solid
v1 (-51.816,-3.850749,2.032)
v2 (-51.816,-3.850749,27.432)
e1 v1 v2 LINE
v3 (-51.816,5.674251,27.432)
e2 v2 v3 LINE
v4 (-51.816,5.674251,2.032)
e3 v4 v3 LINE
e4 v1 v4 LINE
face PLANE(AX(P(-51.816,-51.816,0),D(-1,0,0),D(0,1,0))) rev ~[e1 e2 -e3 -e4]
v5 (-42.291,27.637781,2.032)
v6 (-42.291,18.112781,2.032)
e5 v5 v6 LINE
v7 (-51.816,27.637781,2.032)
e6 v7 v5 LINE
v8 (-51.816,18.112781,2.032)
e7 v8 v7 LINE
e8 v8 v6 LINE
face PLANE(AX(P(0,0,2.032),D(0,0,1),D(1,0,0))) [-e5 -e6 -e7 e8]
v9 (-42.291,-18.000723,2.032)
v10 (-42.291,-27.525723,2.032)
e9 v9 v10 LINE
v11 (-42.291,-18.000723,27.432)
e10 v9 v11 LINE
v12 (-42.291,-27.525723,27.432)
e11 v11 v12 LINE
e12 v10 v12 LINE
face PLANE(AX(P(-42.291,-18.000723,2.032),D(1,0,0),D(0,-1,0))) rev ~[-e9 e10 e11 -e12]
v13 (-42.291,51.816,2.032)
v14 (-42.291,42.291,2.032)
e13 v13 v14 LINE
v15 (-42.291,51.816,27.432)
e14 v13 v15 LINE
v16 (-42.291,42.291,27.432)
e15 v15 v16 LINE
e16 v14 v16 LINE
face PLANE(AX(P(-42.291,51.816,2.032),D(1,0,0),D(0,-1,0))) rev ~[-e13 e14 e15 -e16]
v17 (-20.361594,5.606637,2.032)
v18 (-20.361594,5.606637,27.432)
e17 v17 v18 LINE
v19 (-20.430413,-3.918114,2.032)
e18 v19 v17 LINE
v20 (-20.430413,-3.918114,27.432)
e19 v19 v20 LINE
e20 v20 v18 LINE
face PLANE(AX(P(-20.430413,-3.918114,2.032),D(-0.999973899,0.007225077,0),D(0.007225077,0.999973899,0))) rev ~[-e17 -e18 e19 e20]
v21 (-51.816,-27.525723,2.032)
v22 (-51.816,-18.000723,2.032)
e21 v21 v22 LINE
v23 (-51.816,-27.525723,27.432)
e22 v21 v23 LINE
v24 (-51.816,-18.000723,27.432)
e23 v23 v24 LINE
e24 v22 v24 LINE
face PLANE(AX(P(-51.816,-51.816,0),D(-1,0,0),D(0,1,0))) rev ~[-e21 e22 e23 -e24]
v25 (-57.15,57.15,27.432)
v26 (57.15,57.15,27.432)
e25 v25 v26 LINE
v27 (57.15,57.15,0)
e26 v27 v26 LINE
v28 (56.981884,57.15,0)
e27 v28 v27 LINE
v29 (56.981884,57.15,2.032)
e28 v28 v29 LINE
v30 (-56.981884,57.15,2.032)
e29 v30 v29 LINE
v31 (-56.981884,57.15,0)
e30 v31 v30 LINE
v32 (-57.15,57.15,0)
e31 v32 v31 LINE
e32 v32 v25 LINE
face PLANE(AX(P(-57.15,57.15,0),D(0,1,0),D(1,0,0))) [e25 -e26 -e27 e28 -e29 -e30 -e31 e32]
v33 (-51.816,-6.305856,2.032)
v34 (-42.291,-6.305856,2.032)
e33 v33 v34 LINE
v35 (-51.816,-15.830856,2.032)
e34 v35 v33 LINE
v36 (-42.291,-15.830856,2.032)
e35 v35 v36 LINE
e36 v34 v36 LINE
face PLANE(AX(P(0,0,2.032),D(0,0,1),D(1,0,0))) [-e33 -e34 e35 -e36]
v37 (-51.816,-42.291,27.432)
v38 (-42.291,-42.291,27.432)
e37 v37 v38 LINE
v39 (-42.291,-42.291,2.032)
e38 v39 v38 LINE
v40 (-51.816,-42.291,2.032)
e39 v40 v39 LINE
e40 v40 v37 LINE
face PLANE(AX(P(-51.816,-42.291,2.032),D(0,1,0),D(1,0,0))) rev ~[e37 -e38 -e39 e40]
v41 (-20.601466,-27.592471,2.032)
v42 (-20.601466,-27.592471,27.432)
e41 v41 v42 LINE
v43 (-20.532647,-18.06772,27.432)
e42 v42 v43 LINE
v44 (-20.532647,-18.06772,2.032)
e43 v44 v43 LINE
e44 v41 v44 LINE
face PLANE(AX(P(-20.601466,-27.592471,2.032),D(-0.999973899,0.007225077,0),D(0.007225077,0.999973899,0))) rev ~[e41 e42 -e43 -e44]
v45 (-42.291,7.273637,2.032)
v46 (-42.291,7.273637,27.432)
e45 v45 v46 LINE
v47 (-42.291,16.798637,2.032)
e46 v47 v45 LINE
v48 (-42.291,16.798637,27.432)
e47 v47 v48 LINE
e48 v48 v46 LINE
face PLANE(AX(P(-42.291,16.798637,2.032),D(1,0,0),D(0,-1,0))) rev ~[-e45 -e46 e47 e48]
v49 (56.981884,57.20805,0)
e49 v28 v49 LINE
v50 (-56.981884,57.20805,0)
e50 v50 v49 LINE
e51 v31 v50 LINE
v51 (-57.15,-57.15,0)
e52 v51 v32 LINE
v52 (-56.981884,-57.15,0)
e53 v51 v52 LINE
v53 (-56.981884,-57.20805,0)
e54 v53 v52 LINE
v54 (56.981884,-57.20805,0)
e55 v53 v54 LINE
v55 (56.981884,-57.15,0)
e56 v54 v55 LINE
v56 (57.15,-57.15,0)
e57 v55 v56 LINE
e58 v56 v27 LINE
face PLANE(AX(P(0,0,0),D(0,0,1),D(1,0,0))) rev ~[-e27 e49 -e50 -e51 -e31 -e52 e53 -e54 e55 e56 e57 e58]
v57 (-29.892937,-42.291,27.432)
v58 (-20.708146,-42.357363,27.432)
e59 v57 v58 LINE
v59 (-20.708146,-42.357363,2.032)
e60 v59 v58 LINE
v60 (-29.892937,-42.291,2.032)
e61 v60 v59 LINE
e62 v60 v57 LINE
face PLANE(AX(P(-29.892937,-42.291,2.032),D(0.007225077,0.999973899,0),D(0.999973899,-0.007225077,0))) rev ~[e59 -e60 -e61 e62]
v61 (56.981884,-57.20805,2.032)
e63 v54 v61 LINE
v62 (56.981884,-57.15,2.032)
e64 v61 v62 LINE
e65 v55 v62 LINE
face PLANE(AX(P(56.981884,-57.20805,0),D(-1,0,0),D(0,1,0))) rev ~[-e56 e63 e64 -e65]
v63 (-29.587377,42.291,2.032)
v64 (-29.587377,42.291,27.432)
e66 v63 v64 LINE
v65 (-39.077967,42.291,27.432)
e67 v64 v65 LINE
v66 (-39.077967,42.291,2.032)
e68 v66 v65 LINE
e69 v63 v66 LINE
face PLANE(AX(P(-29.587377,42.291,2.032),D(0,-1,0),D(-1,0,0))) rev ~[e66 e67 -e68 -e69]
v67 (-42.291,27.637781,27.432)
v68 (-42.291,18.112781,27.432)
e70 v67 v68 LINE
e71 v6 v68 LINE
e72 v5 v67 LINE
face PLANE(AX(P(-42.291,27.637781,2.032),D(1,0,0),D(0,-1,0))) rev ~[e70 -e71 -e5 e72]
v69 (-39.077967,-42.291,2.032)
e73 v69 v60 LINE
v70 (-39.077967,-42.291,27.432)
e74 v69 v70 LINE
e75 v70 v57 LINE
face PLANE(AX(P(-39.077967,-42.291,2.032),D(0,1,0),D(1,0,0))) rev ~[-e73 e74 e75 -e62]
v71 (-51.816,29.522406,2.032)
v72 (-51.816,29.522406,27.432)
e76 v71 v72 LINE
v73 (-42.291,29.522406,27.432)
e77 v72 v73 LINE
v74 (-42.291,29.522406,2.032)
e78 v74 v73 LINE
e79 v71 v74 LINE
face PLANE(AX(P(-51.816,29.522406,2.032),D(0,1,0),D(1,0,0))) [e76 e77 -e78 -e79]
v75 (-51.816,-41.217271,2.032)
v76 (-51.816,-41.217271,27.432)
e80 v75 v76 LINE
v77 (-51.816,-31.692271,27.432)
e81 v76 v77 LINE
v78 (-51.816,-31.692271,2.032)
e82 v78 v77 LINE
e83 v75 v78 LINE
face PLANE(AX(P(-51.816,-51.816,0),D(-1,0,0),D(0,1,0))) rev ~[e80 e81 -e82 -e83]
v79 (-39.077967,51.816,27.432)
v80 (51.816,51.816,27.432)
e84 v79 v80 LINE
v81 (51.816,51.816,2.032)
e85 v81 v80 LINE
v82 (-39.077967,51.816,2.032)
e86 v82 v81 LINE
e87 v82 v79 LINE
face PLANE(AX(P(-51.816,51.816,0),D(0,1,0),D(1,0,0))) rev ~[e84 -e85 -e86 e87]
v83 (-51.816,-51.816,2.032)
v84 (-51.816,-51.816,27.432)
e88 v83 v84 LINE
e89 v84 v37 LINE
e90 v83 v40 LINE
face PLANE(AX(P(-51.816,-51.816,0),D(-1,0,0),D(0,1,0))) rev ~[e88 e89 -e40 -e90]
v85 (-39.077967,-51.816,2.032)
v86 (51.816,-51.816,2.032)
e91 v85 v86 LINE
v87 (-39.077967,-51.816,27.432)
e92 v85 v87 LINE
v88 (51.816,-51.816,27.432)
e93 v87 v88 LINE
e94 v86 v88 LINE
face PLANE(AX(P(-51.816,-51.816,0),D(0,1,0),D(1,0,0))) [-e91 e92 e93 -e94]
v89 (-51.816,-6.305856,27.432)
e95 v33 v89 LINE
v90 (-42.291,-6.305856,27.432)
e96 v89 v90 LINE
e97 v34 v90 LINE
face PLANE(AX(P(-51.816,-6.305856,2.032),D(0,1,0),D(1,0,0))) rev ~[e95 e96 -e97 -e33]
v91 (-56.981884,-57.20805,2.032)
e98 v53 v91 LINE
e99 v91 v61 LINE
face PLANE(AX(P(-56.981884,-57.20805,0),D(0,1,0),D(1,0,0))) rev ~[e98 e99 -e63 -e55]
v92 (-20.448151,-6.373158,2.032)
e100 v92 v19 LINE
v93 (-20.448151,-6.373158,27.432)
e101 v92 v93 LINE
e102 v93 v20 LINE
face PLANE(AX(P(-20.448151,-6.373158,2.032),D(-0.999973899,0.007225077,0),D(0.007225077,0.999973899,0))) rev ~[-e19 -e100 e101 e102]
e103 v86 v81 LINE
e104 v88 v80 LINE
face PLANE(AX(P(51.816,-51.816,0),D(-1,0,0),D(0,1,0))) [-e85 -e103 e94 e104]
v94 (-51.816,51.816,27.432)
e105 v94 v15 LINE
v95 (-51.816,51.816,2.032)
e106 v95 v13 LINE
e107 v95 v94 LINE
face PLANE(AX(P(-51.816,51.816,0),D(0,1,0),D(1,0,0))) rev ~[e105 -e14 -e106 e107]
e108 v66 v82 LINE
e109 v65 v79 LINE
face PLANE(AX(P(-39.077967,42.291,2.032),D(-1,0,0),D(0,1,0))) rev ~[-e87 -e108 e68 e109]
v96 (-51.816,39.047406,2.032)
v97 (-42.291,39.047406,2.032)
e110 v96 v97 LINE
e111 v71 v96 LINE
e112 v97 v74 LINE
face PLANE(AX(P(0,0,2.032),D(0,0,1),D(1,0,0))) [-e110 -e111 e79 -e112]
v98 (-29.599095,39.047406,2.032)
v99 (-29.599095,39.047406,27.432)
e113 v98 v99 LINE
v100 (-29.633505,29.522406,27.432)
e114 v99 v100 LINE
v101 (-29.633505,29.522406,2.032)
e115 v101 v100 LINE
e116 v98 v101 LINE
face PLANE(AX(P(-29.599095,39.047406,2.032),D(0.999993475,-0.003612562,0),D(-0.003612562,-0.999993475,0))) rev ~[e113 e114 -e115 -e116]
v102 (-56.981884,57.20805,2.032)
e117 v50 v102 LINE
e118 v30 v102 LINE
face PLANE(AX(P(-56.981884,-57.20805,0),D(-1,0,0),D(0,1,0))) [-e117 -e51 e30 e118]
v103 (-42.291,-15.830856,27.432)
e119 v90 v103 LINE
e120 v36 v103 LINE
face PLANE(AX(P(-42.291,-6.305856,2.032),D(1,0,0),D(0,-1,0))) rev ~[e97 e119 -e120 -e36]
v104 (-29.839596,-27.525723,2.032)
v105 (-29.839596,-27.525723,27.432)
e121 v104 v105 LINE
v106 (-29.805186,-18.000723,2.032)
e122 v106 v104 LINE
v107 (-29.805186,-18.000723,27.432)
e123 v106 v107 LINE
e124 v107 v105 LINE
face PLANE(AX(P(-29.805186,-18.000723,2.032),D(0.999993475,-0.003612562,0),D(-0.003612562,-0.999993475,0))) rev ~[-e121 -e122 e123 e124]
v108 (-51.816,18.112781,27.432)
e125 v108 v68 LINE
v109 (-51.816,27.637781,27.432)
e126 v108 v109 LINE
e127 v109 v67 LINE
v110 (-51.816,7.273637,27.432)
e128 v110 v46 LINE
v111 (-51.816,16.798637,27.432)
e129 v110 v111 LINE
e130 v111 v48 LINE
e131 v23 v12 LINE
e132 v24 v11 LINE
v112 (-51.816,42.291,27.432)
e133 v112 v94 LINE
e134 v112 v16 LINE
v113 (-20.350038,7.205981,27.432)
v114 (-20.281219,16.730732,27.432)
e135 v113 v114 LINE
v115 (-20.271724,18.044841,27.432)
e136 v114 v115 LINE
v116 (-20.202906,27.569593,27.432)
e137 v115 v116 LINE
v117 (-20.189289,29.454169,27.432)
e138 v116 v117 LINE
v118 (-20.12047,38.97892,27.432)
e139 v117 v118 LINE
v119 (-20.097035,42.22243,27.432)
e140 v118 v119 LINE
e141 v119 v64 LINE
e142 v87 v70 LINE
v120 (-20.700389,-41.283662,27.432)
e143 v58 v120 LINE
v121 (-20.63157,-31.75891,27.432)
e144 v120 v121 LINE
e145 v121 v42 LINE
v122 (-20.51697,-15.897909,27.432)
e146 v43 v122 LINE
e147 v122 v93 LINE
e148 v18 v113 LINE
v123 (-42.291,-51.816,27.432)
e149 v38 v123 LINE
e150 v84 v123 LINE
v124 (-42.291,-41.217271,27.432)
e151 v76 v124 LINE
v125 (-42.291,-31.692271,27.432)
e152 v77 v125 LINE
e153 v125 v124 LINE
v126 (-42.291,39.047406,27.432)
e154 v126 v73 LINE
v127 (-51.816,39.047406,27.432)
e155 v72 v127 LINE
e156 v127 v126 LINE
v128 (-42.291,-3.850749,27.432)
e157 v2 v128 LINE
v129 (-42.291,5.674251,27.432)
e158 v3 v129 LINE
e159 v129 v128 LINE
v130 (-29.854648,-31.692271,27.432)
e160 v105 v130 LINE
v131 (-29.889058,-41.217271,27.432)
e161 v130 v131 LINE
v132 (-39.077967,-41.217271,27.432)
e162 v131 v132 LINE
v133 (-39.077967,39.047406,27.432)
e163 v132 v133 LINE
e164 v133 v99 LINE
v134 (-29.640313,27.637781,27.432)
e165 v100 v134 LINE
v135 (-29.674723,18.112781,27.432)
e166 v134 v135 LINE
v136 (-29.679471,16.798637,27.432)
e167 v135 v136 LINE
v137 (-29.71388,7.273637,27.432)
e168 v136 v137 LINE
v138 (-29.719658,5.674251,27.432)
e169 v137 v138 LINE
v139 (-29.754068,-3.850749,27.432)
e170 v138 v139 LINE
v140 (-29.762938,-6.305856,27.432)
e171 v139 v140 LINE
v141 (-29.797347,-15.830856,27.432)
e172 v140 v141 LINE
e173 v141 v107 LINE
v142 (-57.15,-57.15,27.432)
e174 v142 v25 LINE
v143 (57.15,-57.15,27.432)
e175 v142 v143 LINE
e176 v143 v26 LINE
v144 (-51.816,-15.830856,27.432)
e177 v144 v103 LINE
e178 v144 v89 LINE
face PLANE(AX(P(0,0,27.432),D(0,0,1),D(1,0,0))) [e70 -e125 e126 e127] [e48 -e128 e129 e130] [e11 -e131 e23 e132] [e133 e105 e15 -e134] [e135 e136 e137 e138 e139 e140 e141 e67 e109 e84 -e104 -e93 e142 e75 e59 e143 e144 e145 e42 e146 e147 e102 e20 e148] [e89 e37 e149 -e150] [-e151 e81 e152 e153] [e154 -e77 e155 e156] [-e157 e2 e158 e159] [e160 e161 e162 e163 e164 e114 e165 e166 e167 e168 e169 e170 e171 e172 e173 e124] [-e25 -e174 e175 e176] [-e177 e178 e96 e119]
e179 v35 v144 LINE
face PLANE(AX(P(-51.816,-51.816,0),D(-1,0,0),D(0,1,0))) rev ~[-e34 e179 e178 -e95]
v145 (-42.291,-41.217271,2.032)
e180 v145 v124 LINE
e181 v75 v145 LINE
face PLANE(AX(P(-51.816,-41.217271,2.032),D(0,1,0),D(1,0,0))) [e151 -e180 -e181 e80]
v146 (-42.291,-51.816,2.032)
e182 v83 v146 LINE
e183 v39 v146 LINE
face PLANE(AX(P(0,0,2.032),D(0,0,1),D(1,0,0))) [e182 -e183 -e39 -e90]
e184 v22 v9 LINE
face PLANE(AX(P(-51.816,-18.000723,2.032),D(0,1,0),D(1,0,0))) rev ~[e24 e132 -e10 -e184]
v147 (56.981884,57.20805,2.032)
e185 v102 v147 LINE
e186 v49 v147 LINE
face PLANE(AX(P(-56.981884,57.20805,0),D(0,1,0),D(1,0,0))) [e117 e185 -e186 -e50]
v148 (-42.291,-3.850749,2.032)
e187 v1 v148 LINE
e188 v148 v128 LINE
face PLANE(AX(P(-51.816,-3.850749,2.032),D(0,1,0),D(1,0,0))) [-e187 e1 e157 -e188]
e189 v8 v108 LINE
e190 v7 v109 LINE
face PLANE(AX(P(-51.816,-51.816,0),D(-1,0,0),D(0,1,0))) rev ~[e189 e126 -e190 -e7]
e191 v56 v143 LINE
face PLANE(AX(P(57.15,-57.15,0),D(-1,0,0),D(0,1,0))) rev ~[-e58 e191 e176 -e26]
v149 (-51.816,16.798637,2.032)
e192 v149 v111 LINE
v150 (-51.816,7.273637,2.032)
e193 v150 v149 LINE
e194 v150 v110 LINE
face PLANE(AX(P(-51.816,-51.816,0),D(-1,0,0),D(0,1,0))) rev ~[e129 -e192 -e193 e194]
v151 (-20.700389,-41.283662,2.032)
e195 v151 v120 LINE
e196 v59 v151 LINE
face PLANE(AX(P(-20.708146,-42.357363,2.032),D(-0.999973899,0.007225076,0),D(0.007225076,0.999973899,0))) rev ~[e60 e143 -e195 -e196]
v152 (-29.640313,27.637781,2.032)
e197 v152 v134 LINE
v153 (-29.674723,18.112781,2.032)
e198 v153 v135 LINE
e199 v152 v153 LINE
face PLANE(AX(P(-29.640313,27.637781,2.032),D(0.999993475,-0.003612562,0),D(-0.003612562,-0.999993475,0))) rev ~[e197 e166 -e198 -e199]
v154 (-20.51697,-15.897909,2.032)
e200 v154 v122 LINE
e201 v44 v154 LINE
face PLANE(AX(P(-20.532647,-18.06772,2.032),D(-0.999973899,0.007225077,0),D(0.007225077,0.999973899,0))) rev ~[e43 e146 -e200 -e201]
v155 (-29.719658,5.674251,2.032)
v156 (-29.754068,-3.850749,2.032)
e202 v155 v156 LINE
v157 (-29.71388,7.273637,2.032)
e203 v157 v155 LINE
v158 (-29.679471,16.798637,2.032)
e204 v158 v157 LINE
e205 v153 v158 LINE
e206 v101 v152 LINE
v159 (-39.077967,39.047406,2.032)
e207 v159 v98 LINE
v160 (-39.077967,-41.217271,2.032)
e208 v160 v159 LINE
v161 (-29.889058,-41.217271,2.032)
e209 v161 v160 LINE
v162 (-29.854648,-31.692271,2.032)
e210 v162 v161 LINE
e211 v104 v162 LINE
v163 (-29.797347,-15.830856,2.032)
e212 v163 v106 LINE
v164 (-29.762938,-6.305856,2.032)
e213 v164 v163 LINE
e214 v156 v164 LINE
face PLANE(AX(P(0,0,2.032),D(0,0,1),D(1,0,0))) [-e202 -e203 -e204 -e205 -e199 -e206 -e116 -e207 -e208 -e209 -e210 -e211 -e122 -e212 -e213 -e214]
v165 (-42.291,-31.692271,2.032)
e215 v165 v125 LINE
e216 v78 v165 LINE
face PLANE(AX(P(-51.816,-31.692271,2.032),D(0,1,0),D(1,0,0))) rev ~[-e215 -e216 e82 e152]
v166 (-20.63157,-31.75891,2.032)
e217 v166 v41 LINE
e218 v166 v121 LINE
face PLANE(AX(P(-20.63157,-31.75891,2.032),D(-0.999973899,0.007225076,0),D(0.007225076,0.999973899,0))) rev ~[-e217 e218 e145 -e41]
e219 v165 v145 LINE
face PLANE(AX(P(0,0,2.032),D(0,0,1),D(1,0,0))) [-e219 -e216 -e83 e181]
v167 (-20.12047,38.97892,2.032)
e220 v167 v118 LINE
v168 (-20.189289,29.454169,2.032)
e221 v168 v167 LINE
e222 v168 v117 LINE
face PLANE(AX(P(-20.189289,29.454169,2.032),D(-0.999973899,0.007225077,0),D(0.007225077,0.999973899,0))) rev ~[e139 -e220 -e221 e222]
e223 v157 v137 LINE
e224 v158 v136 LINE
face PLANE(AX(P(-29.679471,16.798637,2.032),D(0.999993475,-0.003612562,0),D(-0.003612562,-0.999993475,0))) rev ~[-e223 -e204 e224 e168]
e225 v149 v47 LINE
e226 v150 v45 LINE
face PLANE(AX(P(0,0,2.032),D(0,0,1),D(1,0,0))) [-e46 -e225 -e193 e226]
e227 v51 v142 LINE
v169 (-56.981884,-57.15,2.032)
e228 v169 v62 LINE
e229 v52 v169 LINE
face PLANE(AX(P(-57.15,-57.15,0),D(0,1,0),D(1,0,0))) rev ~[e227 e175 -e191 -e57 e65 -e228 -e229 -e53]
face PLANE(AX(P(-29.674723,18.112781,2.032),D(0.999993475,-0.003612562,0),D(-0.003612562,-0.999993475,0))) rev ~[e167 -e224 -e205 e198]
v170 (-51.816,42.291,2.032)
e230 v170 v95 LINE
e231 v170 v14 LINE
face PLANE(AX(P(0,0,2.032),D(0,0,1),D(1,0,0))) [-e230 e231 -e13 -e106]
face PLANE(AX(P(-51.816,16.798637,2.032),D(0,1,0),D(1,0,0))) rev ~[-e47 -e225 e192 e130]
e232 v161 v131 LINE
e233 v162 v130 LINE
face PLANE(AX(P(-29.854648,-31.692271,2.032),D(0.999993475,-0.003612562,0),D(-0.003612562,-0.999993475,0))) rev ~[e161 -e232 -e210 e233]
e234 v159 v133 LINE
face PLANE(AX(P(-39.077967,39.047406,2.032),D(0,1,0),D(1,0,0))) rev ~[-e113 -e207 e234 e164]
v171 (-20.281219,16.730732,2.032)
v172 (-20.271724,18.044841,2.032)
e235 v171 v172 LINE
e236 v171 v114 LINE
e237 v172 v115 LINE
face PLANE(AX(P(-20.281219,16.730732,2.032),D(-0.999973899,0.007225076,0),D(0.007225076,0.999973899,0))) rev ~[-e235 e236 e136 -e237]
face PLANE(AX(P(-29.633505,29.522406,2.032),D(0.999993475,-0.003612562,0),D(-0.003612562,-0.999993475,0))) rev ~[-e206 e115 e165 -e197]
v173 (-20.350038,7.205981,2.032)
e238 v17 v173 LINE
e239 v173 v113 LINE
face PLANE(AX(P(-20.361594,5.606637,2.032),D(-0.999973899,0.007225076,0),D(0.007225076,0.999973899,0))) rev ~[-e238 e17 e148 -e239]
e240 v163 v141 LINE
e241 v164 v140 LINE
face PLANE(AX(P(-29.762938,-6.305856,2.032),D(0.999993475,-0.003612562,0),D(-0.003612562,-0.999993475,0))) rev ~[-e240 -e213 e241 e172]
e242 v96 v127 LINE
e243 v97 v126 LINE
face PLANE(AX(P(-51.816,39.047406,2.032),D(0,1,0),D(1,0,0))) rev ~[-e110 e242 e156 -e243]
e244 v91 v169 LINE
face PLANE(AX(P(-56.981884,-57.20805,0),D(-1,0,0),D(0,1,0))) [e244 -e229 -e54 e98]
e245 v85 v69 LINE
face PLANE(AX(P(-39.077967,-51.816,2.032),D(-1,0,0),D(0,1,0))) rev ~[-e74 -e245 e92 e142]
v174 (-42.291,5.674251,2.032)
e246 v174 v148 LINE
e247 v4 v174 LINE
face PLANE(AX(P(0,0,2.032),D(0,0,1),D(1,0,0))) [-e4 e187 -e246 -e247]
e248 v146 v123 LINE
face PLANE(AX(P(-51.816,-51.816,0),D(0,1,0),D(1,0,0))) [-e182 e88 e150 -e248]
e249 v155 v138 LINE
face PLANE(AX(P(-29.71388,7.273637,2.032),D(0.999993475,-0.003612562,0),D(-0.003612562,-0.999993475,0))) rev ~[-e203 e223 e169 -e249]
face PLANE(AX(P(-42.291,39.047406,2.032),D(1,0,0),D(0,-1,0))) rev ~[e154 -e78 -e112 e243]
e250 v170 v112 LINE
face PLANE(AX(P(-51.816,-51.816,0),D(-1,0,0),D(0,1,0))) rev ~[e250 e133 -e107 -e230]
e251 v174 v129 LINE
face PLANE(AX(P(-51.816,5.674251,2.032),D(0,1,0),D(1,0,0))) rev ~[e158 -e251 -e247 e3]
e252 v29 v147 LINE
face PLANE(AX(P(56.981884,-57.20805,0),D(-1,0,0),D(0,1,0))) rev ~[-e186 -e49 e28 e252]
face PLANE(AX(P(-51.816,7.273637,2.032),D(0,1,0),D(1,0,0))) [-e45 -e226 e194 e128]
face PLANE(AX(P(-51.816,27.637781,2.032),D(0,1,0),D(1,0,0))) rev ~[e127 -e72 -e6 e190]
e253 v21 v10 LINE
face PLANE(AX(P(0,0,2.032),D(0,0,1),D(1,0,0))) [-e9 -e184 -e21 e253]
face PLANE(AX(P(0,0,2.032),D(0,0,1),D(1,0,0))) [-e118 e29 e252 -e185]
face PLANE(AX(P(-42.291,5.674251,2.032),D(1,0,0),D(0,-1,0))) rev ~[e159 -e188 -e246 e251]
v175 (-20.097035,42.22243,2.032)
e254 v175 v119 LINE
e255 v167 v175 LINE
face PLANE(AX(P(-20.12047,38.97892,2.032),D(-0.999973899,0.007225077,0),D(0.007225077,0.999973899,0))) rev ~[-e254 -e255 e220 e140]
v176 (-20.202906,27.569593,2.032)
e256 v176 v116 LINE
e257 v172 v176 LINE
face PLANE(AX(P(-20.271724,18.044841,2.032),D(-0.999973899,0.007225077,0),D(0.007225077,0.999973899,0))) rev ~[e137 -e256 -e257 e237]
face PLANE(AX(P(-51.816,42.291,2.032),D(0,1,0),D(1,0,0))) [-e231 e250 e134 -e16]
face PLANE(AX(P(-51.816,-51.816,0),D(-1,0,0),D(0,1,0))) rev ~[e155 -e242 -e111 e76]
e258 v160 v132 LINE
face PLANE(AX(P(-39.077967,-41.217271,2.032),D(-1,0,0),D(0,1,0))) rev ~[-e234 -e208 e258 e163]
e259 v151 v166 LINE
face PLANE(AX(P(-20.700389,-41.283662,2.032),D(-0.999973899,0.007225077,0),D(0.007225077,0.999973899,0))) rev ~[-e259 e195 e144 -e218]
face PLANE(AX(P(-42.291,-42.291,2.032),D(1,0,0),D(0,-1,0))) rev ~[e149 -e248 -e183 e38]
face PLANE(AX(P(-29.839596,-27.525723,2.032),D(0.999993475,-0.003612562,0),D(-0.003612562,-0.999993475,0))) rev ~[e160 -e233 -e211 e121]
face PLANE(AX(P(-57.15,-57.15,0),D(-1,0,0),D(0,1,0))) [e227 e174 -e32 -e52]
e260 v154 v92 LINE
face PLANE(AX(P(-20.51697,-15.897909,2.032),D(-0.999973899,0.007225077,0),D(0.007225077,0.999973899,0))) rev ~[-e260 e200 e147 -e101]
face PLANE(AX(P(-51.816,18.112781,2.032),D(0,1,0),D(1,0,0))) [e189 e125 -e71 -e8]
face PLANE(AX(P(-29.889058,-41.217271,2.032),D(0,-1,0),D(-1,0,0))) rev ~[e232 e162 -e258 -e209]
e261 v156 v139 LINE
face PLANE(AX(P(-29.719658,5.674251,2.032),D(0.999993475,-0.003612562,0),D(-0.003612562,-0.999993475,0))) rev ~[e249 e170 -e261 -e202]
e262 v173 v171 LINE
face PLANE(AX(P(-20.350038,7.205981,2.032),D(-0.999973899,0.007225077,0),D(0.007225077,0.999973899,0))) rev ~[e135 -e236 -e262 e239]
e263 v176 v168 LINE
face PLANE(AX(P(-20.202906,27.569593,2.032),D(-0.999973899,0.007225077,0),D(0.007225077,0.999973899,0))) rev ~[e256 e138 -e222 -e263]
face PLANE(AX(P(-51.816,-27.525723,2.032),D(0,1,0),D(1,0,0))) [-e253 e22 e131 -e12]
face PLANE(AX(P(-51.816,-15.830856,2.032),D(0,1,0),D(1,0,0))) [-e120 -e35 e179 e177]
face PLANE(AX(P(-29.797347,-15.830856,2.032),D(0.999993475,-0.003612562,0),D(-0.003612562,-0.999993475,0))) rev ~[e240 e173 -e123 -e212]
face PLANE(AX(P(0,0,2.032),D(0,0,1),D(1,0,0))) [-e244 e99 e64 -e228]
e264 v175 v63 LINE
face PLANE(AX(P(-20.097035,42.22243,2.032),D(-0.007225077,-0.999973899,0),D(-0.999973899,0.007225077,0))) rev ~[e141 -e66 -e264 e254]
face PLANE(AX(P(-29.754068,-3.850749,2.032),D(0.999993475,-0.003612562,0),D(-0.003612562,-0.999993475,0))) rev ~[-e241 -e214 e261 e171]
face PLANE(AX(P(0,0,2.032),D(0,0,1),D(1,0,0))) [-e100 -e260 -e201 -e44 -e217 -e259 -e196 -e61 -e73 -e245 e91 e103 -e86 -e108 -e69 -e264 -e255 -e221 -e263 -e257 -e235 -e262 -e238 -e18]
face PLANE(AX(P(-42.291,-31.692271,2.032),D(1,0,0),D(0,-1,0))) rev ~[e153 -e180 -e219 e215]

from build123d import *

# Parameters (mm, degrees)
F0_W     = 114.3
F0_H     = 114.3
F0_W_2   = 103.632
F0_H_2   = 103.632
F1_DEPTH = 27.432
F2_W     = 113.9637678862
F2_H     = 114.4161000848
F3_DEPTH = 2.032
F4_W     = 9.525
F4_H     = 3.2435940627
F4_H_2   = 1.884625411
F4_H_3   = 1.314143768
F4_H_4   = 1.599385288
F4_H_5   = 2.4551072869
F4_H_6   = 2.1698671639
F4_H_7   = 4.1665482581
F4_H_8   = 1.0737287614
F5_DEPTH = 25.4
F6_DEPTH = 25.4


with BuildPart() as f1:
    # F0 (on Top) → F1 (new body)
    with BuildSketch(Plane.XY):
        Rectangle(F0_W, F0_H)
        Rectangle(F0_W_2, F0_H_2, mode=Mode.SUBTRACT)
    extrude(amount=F1_DEPTH)

    # F2 (on Top) → F3 (join)
    with BuildSketch(Plane.XY):
        Rectangle(F2_W, F2_H)
    extrude(amount=F3_DEPTH)

    # F4 (on face) → F5 (join)
    with BuildSketch(Plane.XY.offset(2.032)):
        Polygon((-39.0779674053, 51.816), (-42.291, 51.816), (-42.291, 42.291), (-42.291, 39.0474059373), (-42.291, 29.5224059373), (-42.291, 27.6377805263), (-42.291, 18.1127805263), (-42.291, 16.7986367583), (-42.291, 7.2736367583), (-42.291, 5.6742514703), (-42.291, -3.8507485297), (-42.291, -6.3058558166), (-42.291, -15.8308558166), (-42.291, -18.0007229805), (-42.291, -27.5257229805), (-42.291, -31.6922712386), (-42.291, -41.2172712386), (-42.291, -42.291), (-42.291, -51.816), (-39.0779674053, -51.816), (-39.0779674053, -42.291), (-39.0779674053, -41.2172712386), (-39.0779674053, -31.6922712386), (-39.0779674053, -27.5257229805), (-39.0779674053, -18.0007229805), (-39.0779674053, -15.8308558166), (-39.0779674053, -6.3058558166), (-39.0779674053, -3.8507485297), (-39.0779674053, 5.6742514703), (-39.0779674053, 7.2736367583), (-39.0779674053, 16.7986367583), (-39.0779674053, 18.1127805263), (-39.0779674053, 27.6377805263), (-39.0779674053, 29.5224059373), (-39.0779674053, 39.0474059373), (-39.0779674053, 42.291), align=None)
        with Locations((-47.0535, 40.6692029687)):
            Rectangle(F4_W, F4_H)
        Polygon((-29.5873772812, 42.291), (-39.0779674053, 42.291), (-39.0779674053, 39.0474059373), (-29.5990950418, 39.0474059373), align=None)
        Polygon((-20.097034873, 42.2224297603), (-29.5873772812, 42.291), (-29.5990950418, 39.0474059373), (-20.1204700883, 38.9789203593), align=None)
        with Locations((-47.0535, 28.5800932318)):
            Rectangle(F4_W, F4_H_2)
        Polygon((-20.1204700883, 38.9789203593), (-29.5990950418, 39.0474059373), (-29.6335049177, 29.5224059373), (-20.189288942, 29.4541689733), align=None)
        Polygon((-20.189288942, 29.4541689733), (-29.6335049177, 29.5224059373), (-29.640313288, 27.6377805263), (-20.2029055048, 27.5695927533), align=None)
        with Locations((-47.0535, 17.4557086423)):
            Rectangle(F4_W, F4_H_3)
        Polygon((-20.2029055048, 27.5695927533), (-29.640313288, 27.6377805263), (-29.6747231639, 18.1127805263), (-20.2717243585, 18.0448413672), align=None)
        Polygon((-20.2717243585, 18.0448413672), (-29.6747231639, 18.1127805263), (-29.6794706205, 16.7986367583), (-20.2812191477, 16.7307319), align=None)
        with Locations((-47.0535, 6.4739441143)):
            Rectangle(F4_W, F4_H_4)
        Polygon((-20.2812191477, 16.7307319), (-29.6794706205, 16.7986367583), (-29.7138804964, 7.2736367583), (-20.3500380015, 7.205980514), align=None)
        Polygon((-20.3500380015, 7.205980514), (-29.7138804964, 7.2736367583), (-29.7196584123, 5.6742514703), (-20.3615936825, 5.6066369719), align=None)
        with Locations((-47.0535, -5.0783021731)):
            Rectangle(F4_W, F4_H_5)
        Polygon((-20.3615936825, 5.6066369719), (-29.7196584123, 5.6742514703), (-29.7540682883, -3.8507485297), (-20.4304125362, -3.9181144141), align=None)
        Polygon((-20.4304125362, -3.9181144141), (-29.7540682883, -3.8507485297), (-29.762937573, -6.3058558166), (-20.4481508742, -6.3731576198), align=None)
        with Locations((-47.0535, -16.9157893986)):
            Rectangle(F4_W, F4_H_6)
        Polygon((-20.4481508742, -6.3731576198), (-29.762937573, -6.3058558166), (-29.7973474489, -15.8308558166), (-20.5169697279, -15.8979090058), align=None)
        Polygon((-20.5169697279, -15.8979090058), (-29.7973474489, -15.8308558166), (-29.8051862794, -18.0007229805), (-20.5326471842, -18.0677195336), align=None)
        with Locations((-47.0535, -29.6089971095)):
            Rectangle(F4_W, F4_H_7)
        Polygon((-20.5326471842, -18.0677195336), (-29.8051862794, -18.0007229805), (-29.8395961553, -27.5257229805), (-20.6014660379, -27.5924709196), align=None)
        Polygon((-20.6014660379, -27.5924709196), (-29.8395961553, -27.5257229805), (-29.8546481667, -31.6922712386), (-20.6315696678, -31.7589104257), align=None)
        with Locations((-47.0535, -41.7541356193)):
            Rectangle(F4_W, F4_H_8)
        Polygon((-29.8890580426, -41.2172712386), (-39.0779674053, -41.2172712386), (-39.0779674053, -42.291), (-29.8929369795, -42.291), align=None)
        Polygon((-20.6315696678, -31.7589104257), (-29.8546481667, -31.6922712386), (-29.8890580426, -41.2172712386), (-20.7003885216, -41.2836618117), align=None)
        Polygon((-20.7003885216, -41.2836618117), (-29.8890580426, -41.2172712386), (-29.8929369795, -42.291), (-20.708146294, -42.3573625475), align=None)
    extrude(amount=F5_DEPTH)

    # F4 (on face) → F6 (join)
    with BuildSketch(Plane.XY.offset(2.032)):
        Polygon((-39.0779674053, 51.816), (-42.291, 51.816), (-42.291, 42.291), (-42.291, 39.0474059373), (-42.291, 29.5224059373), (-42.291, 27.6377805263), (-42.291, 18.1127805263), (-42.291, 16.7986367583), (-42.291, 7.2736367583), (-42.291, 5.6742514703), (-42.291, -3.8507485297), (-42.291, -6.3058558166), (-42.291, -15.8308558166), (-42.291, -18.0007229805), (-42.291, -27.5257229805), (-42.291, -31.6922712386), (-42.291, -41.2172712386), (-42.291, -42.291), (-42.291, -51.816), (-39.0779674053, -51.816), (-39.0779674053, -42.291), (-39.0779674053, -41.2172712386), (-39.0779674053, -31.6922712386), (-39.0779674053, -27.5257229805), (-39.0779674053, -18.0007229805), (-39.0779674053, -15.8308558166), (-39.0779674053, -6.3058558166), (-39.0779674053, -3.8507485297), (-39.0779674053, 5.6742514703), (-39.0779674053, 7.2736367583), (-39.0779674053, 16.7986367583), (-39.0779674053, 18.1127805263), (-39.0779674053, 27.6377805263), (-39.0779674053, 29.5224059373), (-39.0779674053, 39.0474059373), (-39.0779674053, 42.291), align=None)
        with Locations((-47.0535, 40.6692029687)):
            Rectangle(F4_W, F4_H)
        Polygon((-29.5873772812, 42.291), (-39.0779674053, 42.291), (-39.0779674053, 39.0474059373), (-29.5990950418, 39.0474059373), align=None)
        Polygon((-20.097034873, 42.2224297603), (-29.5873772812, 42.291), (-29.5990950418, 39.0474059373), (-20.1204700883, 38.9789203593), align=None)
        with Locations((-47.0535, 28.5800932318)):
            Rectangle(F4_W, F4_H_2)
        Polygon((-20.1204700883, 38.9789203593), (-29.5990950418, 39.0474059373), (-29.6335049177, 29.5224059373), (-20.189288942, 29.4541689733), align=None)
        Polygon((-20.189288942, 29.4541689733), (-29.6335049177, 29.5224059373), (-29.640313288, 27.6377805263), (-20.2029055048, 27.5695927533), align=None)
        with Locations((-47.0535, 17.4557086423)):
            Rectangle(F4_W, F4_H_3)
        Polygon((-20.2029055048, 27.5695927533), (-29.640313288, 27.6377805263), (-29.6747231639, 18.1127805263), (-20.2717243585, 18.0448413672), align=None)
        Polygon((-20.2717243585, 18.0448413672), (-29.6747231639, 18.1127805263), (-29.6794706205, 16.7986367583), (-20.2812191477, 16.7307319), align=None)
        with Locations((-47.0535, 6.4739441143)):
            Rectangle(F4_W, F4_H_4)
        Polygon((-20.2812191477, 16.7307319), (-29.6794706205, 16.7986367583), (-29.7138804964, 7.2736367583), (-20.3500380015, 7.205980514), align=None)
        Polygon((-20.3500380015, 7.205980514), (-29.7138804964, 7.2736367583), (-29.7196584123, 5.6742514703), (-20.3615936825, 5.6066369719), align=None)
        with Locations((-47.0535, -5.0783021731)):
            Rectangle(F4_W, F4_H_5)
        Polygon((-20.3615936825, 5.6066369719), (-29.7196584123, 5.6742514703), (-29.7540682883, -3.8507485297), (-20.4304125362, -3.9181144141), align=None)
        Polygon((-20.4304125362, -3.9181144141), (-29.7540682883, -3.8507485297), (-29.762937573, -6.3058558166), (-20.4481508742, -6.3731576198), align=None)
        with Locations((-47.0535, -16.9157893986)):
            Rectangle(F4_W, F4_H_6)
        Polygon((-20.4481508742, -6.3731576198), (-29.762937573, -6.3058558166), (-29.7973474489, -15.8308558166), (-20.5169697279, -15.8979090058), align=None)
        Polygon((-20.5169697279, -15.8979090058), (-29.7973474489, -15.8308558166), (-29.8051862794, -18.0007229805), (-20.5326471842, -18.0677195336), align=None)
        with Locations((-47.0535, -29.6089971095)):
            Rectangle(F4_W, F4_H_7)
        Polygon((-20.5326471842, -18.0677195336), (-29.8051862794, -18.0007229805), (-29.8395961553, -27.5257229805), (-20.6014660379, -27.5924709196), align=None)
        Polygon((-20.6014660379, -27.5924709196), (-29.8395961553, -27.5257229805), (-29.8546481667, -31.6922712386), (-20.6315696678, -31.7589104257), align=None)
        with Locations((-47.0535, -41.7541356193)):
            Rectangle(F4_W, F4_H_8)
        Polygon((-29.8890580426, -41.2172712386), (-39.0779674053, -41.2172712386), (-39.0779674053, -42.291), (-29.8929369795, -42.291), align=None)
        Polygon((-20.6315696678, -31.7589104257), (-29.8546481667, -31.6922712386), (-29.8890580426, -41.2172712386), (-20.7003885216, -41.2836618117), align=None)
        Polygon((-20.7003885216, -41.2836618117), (-29.8890580426, -41.2172712386), (-29.8929369795, -42.291), (-20.708146294, -42.3573625475), align=None)
    extrude(amount=F6_DEPTH)


solid = f1.part
